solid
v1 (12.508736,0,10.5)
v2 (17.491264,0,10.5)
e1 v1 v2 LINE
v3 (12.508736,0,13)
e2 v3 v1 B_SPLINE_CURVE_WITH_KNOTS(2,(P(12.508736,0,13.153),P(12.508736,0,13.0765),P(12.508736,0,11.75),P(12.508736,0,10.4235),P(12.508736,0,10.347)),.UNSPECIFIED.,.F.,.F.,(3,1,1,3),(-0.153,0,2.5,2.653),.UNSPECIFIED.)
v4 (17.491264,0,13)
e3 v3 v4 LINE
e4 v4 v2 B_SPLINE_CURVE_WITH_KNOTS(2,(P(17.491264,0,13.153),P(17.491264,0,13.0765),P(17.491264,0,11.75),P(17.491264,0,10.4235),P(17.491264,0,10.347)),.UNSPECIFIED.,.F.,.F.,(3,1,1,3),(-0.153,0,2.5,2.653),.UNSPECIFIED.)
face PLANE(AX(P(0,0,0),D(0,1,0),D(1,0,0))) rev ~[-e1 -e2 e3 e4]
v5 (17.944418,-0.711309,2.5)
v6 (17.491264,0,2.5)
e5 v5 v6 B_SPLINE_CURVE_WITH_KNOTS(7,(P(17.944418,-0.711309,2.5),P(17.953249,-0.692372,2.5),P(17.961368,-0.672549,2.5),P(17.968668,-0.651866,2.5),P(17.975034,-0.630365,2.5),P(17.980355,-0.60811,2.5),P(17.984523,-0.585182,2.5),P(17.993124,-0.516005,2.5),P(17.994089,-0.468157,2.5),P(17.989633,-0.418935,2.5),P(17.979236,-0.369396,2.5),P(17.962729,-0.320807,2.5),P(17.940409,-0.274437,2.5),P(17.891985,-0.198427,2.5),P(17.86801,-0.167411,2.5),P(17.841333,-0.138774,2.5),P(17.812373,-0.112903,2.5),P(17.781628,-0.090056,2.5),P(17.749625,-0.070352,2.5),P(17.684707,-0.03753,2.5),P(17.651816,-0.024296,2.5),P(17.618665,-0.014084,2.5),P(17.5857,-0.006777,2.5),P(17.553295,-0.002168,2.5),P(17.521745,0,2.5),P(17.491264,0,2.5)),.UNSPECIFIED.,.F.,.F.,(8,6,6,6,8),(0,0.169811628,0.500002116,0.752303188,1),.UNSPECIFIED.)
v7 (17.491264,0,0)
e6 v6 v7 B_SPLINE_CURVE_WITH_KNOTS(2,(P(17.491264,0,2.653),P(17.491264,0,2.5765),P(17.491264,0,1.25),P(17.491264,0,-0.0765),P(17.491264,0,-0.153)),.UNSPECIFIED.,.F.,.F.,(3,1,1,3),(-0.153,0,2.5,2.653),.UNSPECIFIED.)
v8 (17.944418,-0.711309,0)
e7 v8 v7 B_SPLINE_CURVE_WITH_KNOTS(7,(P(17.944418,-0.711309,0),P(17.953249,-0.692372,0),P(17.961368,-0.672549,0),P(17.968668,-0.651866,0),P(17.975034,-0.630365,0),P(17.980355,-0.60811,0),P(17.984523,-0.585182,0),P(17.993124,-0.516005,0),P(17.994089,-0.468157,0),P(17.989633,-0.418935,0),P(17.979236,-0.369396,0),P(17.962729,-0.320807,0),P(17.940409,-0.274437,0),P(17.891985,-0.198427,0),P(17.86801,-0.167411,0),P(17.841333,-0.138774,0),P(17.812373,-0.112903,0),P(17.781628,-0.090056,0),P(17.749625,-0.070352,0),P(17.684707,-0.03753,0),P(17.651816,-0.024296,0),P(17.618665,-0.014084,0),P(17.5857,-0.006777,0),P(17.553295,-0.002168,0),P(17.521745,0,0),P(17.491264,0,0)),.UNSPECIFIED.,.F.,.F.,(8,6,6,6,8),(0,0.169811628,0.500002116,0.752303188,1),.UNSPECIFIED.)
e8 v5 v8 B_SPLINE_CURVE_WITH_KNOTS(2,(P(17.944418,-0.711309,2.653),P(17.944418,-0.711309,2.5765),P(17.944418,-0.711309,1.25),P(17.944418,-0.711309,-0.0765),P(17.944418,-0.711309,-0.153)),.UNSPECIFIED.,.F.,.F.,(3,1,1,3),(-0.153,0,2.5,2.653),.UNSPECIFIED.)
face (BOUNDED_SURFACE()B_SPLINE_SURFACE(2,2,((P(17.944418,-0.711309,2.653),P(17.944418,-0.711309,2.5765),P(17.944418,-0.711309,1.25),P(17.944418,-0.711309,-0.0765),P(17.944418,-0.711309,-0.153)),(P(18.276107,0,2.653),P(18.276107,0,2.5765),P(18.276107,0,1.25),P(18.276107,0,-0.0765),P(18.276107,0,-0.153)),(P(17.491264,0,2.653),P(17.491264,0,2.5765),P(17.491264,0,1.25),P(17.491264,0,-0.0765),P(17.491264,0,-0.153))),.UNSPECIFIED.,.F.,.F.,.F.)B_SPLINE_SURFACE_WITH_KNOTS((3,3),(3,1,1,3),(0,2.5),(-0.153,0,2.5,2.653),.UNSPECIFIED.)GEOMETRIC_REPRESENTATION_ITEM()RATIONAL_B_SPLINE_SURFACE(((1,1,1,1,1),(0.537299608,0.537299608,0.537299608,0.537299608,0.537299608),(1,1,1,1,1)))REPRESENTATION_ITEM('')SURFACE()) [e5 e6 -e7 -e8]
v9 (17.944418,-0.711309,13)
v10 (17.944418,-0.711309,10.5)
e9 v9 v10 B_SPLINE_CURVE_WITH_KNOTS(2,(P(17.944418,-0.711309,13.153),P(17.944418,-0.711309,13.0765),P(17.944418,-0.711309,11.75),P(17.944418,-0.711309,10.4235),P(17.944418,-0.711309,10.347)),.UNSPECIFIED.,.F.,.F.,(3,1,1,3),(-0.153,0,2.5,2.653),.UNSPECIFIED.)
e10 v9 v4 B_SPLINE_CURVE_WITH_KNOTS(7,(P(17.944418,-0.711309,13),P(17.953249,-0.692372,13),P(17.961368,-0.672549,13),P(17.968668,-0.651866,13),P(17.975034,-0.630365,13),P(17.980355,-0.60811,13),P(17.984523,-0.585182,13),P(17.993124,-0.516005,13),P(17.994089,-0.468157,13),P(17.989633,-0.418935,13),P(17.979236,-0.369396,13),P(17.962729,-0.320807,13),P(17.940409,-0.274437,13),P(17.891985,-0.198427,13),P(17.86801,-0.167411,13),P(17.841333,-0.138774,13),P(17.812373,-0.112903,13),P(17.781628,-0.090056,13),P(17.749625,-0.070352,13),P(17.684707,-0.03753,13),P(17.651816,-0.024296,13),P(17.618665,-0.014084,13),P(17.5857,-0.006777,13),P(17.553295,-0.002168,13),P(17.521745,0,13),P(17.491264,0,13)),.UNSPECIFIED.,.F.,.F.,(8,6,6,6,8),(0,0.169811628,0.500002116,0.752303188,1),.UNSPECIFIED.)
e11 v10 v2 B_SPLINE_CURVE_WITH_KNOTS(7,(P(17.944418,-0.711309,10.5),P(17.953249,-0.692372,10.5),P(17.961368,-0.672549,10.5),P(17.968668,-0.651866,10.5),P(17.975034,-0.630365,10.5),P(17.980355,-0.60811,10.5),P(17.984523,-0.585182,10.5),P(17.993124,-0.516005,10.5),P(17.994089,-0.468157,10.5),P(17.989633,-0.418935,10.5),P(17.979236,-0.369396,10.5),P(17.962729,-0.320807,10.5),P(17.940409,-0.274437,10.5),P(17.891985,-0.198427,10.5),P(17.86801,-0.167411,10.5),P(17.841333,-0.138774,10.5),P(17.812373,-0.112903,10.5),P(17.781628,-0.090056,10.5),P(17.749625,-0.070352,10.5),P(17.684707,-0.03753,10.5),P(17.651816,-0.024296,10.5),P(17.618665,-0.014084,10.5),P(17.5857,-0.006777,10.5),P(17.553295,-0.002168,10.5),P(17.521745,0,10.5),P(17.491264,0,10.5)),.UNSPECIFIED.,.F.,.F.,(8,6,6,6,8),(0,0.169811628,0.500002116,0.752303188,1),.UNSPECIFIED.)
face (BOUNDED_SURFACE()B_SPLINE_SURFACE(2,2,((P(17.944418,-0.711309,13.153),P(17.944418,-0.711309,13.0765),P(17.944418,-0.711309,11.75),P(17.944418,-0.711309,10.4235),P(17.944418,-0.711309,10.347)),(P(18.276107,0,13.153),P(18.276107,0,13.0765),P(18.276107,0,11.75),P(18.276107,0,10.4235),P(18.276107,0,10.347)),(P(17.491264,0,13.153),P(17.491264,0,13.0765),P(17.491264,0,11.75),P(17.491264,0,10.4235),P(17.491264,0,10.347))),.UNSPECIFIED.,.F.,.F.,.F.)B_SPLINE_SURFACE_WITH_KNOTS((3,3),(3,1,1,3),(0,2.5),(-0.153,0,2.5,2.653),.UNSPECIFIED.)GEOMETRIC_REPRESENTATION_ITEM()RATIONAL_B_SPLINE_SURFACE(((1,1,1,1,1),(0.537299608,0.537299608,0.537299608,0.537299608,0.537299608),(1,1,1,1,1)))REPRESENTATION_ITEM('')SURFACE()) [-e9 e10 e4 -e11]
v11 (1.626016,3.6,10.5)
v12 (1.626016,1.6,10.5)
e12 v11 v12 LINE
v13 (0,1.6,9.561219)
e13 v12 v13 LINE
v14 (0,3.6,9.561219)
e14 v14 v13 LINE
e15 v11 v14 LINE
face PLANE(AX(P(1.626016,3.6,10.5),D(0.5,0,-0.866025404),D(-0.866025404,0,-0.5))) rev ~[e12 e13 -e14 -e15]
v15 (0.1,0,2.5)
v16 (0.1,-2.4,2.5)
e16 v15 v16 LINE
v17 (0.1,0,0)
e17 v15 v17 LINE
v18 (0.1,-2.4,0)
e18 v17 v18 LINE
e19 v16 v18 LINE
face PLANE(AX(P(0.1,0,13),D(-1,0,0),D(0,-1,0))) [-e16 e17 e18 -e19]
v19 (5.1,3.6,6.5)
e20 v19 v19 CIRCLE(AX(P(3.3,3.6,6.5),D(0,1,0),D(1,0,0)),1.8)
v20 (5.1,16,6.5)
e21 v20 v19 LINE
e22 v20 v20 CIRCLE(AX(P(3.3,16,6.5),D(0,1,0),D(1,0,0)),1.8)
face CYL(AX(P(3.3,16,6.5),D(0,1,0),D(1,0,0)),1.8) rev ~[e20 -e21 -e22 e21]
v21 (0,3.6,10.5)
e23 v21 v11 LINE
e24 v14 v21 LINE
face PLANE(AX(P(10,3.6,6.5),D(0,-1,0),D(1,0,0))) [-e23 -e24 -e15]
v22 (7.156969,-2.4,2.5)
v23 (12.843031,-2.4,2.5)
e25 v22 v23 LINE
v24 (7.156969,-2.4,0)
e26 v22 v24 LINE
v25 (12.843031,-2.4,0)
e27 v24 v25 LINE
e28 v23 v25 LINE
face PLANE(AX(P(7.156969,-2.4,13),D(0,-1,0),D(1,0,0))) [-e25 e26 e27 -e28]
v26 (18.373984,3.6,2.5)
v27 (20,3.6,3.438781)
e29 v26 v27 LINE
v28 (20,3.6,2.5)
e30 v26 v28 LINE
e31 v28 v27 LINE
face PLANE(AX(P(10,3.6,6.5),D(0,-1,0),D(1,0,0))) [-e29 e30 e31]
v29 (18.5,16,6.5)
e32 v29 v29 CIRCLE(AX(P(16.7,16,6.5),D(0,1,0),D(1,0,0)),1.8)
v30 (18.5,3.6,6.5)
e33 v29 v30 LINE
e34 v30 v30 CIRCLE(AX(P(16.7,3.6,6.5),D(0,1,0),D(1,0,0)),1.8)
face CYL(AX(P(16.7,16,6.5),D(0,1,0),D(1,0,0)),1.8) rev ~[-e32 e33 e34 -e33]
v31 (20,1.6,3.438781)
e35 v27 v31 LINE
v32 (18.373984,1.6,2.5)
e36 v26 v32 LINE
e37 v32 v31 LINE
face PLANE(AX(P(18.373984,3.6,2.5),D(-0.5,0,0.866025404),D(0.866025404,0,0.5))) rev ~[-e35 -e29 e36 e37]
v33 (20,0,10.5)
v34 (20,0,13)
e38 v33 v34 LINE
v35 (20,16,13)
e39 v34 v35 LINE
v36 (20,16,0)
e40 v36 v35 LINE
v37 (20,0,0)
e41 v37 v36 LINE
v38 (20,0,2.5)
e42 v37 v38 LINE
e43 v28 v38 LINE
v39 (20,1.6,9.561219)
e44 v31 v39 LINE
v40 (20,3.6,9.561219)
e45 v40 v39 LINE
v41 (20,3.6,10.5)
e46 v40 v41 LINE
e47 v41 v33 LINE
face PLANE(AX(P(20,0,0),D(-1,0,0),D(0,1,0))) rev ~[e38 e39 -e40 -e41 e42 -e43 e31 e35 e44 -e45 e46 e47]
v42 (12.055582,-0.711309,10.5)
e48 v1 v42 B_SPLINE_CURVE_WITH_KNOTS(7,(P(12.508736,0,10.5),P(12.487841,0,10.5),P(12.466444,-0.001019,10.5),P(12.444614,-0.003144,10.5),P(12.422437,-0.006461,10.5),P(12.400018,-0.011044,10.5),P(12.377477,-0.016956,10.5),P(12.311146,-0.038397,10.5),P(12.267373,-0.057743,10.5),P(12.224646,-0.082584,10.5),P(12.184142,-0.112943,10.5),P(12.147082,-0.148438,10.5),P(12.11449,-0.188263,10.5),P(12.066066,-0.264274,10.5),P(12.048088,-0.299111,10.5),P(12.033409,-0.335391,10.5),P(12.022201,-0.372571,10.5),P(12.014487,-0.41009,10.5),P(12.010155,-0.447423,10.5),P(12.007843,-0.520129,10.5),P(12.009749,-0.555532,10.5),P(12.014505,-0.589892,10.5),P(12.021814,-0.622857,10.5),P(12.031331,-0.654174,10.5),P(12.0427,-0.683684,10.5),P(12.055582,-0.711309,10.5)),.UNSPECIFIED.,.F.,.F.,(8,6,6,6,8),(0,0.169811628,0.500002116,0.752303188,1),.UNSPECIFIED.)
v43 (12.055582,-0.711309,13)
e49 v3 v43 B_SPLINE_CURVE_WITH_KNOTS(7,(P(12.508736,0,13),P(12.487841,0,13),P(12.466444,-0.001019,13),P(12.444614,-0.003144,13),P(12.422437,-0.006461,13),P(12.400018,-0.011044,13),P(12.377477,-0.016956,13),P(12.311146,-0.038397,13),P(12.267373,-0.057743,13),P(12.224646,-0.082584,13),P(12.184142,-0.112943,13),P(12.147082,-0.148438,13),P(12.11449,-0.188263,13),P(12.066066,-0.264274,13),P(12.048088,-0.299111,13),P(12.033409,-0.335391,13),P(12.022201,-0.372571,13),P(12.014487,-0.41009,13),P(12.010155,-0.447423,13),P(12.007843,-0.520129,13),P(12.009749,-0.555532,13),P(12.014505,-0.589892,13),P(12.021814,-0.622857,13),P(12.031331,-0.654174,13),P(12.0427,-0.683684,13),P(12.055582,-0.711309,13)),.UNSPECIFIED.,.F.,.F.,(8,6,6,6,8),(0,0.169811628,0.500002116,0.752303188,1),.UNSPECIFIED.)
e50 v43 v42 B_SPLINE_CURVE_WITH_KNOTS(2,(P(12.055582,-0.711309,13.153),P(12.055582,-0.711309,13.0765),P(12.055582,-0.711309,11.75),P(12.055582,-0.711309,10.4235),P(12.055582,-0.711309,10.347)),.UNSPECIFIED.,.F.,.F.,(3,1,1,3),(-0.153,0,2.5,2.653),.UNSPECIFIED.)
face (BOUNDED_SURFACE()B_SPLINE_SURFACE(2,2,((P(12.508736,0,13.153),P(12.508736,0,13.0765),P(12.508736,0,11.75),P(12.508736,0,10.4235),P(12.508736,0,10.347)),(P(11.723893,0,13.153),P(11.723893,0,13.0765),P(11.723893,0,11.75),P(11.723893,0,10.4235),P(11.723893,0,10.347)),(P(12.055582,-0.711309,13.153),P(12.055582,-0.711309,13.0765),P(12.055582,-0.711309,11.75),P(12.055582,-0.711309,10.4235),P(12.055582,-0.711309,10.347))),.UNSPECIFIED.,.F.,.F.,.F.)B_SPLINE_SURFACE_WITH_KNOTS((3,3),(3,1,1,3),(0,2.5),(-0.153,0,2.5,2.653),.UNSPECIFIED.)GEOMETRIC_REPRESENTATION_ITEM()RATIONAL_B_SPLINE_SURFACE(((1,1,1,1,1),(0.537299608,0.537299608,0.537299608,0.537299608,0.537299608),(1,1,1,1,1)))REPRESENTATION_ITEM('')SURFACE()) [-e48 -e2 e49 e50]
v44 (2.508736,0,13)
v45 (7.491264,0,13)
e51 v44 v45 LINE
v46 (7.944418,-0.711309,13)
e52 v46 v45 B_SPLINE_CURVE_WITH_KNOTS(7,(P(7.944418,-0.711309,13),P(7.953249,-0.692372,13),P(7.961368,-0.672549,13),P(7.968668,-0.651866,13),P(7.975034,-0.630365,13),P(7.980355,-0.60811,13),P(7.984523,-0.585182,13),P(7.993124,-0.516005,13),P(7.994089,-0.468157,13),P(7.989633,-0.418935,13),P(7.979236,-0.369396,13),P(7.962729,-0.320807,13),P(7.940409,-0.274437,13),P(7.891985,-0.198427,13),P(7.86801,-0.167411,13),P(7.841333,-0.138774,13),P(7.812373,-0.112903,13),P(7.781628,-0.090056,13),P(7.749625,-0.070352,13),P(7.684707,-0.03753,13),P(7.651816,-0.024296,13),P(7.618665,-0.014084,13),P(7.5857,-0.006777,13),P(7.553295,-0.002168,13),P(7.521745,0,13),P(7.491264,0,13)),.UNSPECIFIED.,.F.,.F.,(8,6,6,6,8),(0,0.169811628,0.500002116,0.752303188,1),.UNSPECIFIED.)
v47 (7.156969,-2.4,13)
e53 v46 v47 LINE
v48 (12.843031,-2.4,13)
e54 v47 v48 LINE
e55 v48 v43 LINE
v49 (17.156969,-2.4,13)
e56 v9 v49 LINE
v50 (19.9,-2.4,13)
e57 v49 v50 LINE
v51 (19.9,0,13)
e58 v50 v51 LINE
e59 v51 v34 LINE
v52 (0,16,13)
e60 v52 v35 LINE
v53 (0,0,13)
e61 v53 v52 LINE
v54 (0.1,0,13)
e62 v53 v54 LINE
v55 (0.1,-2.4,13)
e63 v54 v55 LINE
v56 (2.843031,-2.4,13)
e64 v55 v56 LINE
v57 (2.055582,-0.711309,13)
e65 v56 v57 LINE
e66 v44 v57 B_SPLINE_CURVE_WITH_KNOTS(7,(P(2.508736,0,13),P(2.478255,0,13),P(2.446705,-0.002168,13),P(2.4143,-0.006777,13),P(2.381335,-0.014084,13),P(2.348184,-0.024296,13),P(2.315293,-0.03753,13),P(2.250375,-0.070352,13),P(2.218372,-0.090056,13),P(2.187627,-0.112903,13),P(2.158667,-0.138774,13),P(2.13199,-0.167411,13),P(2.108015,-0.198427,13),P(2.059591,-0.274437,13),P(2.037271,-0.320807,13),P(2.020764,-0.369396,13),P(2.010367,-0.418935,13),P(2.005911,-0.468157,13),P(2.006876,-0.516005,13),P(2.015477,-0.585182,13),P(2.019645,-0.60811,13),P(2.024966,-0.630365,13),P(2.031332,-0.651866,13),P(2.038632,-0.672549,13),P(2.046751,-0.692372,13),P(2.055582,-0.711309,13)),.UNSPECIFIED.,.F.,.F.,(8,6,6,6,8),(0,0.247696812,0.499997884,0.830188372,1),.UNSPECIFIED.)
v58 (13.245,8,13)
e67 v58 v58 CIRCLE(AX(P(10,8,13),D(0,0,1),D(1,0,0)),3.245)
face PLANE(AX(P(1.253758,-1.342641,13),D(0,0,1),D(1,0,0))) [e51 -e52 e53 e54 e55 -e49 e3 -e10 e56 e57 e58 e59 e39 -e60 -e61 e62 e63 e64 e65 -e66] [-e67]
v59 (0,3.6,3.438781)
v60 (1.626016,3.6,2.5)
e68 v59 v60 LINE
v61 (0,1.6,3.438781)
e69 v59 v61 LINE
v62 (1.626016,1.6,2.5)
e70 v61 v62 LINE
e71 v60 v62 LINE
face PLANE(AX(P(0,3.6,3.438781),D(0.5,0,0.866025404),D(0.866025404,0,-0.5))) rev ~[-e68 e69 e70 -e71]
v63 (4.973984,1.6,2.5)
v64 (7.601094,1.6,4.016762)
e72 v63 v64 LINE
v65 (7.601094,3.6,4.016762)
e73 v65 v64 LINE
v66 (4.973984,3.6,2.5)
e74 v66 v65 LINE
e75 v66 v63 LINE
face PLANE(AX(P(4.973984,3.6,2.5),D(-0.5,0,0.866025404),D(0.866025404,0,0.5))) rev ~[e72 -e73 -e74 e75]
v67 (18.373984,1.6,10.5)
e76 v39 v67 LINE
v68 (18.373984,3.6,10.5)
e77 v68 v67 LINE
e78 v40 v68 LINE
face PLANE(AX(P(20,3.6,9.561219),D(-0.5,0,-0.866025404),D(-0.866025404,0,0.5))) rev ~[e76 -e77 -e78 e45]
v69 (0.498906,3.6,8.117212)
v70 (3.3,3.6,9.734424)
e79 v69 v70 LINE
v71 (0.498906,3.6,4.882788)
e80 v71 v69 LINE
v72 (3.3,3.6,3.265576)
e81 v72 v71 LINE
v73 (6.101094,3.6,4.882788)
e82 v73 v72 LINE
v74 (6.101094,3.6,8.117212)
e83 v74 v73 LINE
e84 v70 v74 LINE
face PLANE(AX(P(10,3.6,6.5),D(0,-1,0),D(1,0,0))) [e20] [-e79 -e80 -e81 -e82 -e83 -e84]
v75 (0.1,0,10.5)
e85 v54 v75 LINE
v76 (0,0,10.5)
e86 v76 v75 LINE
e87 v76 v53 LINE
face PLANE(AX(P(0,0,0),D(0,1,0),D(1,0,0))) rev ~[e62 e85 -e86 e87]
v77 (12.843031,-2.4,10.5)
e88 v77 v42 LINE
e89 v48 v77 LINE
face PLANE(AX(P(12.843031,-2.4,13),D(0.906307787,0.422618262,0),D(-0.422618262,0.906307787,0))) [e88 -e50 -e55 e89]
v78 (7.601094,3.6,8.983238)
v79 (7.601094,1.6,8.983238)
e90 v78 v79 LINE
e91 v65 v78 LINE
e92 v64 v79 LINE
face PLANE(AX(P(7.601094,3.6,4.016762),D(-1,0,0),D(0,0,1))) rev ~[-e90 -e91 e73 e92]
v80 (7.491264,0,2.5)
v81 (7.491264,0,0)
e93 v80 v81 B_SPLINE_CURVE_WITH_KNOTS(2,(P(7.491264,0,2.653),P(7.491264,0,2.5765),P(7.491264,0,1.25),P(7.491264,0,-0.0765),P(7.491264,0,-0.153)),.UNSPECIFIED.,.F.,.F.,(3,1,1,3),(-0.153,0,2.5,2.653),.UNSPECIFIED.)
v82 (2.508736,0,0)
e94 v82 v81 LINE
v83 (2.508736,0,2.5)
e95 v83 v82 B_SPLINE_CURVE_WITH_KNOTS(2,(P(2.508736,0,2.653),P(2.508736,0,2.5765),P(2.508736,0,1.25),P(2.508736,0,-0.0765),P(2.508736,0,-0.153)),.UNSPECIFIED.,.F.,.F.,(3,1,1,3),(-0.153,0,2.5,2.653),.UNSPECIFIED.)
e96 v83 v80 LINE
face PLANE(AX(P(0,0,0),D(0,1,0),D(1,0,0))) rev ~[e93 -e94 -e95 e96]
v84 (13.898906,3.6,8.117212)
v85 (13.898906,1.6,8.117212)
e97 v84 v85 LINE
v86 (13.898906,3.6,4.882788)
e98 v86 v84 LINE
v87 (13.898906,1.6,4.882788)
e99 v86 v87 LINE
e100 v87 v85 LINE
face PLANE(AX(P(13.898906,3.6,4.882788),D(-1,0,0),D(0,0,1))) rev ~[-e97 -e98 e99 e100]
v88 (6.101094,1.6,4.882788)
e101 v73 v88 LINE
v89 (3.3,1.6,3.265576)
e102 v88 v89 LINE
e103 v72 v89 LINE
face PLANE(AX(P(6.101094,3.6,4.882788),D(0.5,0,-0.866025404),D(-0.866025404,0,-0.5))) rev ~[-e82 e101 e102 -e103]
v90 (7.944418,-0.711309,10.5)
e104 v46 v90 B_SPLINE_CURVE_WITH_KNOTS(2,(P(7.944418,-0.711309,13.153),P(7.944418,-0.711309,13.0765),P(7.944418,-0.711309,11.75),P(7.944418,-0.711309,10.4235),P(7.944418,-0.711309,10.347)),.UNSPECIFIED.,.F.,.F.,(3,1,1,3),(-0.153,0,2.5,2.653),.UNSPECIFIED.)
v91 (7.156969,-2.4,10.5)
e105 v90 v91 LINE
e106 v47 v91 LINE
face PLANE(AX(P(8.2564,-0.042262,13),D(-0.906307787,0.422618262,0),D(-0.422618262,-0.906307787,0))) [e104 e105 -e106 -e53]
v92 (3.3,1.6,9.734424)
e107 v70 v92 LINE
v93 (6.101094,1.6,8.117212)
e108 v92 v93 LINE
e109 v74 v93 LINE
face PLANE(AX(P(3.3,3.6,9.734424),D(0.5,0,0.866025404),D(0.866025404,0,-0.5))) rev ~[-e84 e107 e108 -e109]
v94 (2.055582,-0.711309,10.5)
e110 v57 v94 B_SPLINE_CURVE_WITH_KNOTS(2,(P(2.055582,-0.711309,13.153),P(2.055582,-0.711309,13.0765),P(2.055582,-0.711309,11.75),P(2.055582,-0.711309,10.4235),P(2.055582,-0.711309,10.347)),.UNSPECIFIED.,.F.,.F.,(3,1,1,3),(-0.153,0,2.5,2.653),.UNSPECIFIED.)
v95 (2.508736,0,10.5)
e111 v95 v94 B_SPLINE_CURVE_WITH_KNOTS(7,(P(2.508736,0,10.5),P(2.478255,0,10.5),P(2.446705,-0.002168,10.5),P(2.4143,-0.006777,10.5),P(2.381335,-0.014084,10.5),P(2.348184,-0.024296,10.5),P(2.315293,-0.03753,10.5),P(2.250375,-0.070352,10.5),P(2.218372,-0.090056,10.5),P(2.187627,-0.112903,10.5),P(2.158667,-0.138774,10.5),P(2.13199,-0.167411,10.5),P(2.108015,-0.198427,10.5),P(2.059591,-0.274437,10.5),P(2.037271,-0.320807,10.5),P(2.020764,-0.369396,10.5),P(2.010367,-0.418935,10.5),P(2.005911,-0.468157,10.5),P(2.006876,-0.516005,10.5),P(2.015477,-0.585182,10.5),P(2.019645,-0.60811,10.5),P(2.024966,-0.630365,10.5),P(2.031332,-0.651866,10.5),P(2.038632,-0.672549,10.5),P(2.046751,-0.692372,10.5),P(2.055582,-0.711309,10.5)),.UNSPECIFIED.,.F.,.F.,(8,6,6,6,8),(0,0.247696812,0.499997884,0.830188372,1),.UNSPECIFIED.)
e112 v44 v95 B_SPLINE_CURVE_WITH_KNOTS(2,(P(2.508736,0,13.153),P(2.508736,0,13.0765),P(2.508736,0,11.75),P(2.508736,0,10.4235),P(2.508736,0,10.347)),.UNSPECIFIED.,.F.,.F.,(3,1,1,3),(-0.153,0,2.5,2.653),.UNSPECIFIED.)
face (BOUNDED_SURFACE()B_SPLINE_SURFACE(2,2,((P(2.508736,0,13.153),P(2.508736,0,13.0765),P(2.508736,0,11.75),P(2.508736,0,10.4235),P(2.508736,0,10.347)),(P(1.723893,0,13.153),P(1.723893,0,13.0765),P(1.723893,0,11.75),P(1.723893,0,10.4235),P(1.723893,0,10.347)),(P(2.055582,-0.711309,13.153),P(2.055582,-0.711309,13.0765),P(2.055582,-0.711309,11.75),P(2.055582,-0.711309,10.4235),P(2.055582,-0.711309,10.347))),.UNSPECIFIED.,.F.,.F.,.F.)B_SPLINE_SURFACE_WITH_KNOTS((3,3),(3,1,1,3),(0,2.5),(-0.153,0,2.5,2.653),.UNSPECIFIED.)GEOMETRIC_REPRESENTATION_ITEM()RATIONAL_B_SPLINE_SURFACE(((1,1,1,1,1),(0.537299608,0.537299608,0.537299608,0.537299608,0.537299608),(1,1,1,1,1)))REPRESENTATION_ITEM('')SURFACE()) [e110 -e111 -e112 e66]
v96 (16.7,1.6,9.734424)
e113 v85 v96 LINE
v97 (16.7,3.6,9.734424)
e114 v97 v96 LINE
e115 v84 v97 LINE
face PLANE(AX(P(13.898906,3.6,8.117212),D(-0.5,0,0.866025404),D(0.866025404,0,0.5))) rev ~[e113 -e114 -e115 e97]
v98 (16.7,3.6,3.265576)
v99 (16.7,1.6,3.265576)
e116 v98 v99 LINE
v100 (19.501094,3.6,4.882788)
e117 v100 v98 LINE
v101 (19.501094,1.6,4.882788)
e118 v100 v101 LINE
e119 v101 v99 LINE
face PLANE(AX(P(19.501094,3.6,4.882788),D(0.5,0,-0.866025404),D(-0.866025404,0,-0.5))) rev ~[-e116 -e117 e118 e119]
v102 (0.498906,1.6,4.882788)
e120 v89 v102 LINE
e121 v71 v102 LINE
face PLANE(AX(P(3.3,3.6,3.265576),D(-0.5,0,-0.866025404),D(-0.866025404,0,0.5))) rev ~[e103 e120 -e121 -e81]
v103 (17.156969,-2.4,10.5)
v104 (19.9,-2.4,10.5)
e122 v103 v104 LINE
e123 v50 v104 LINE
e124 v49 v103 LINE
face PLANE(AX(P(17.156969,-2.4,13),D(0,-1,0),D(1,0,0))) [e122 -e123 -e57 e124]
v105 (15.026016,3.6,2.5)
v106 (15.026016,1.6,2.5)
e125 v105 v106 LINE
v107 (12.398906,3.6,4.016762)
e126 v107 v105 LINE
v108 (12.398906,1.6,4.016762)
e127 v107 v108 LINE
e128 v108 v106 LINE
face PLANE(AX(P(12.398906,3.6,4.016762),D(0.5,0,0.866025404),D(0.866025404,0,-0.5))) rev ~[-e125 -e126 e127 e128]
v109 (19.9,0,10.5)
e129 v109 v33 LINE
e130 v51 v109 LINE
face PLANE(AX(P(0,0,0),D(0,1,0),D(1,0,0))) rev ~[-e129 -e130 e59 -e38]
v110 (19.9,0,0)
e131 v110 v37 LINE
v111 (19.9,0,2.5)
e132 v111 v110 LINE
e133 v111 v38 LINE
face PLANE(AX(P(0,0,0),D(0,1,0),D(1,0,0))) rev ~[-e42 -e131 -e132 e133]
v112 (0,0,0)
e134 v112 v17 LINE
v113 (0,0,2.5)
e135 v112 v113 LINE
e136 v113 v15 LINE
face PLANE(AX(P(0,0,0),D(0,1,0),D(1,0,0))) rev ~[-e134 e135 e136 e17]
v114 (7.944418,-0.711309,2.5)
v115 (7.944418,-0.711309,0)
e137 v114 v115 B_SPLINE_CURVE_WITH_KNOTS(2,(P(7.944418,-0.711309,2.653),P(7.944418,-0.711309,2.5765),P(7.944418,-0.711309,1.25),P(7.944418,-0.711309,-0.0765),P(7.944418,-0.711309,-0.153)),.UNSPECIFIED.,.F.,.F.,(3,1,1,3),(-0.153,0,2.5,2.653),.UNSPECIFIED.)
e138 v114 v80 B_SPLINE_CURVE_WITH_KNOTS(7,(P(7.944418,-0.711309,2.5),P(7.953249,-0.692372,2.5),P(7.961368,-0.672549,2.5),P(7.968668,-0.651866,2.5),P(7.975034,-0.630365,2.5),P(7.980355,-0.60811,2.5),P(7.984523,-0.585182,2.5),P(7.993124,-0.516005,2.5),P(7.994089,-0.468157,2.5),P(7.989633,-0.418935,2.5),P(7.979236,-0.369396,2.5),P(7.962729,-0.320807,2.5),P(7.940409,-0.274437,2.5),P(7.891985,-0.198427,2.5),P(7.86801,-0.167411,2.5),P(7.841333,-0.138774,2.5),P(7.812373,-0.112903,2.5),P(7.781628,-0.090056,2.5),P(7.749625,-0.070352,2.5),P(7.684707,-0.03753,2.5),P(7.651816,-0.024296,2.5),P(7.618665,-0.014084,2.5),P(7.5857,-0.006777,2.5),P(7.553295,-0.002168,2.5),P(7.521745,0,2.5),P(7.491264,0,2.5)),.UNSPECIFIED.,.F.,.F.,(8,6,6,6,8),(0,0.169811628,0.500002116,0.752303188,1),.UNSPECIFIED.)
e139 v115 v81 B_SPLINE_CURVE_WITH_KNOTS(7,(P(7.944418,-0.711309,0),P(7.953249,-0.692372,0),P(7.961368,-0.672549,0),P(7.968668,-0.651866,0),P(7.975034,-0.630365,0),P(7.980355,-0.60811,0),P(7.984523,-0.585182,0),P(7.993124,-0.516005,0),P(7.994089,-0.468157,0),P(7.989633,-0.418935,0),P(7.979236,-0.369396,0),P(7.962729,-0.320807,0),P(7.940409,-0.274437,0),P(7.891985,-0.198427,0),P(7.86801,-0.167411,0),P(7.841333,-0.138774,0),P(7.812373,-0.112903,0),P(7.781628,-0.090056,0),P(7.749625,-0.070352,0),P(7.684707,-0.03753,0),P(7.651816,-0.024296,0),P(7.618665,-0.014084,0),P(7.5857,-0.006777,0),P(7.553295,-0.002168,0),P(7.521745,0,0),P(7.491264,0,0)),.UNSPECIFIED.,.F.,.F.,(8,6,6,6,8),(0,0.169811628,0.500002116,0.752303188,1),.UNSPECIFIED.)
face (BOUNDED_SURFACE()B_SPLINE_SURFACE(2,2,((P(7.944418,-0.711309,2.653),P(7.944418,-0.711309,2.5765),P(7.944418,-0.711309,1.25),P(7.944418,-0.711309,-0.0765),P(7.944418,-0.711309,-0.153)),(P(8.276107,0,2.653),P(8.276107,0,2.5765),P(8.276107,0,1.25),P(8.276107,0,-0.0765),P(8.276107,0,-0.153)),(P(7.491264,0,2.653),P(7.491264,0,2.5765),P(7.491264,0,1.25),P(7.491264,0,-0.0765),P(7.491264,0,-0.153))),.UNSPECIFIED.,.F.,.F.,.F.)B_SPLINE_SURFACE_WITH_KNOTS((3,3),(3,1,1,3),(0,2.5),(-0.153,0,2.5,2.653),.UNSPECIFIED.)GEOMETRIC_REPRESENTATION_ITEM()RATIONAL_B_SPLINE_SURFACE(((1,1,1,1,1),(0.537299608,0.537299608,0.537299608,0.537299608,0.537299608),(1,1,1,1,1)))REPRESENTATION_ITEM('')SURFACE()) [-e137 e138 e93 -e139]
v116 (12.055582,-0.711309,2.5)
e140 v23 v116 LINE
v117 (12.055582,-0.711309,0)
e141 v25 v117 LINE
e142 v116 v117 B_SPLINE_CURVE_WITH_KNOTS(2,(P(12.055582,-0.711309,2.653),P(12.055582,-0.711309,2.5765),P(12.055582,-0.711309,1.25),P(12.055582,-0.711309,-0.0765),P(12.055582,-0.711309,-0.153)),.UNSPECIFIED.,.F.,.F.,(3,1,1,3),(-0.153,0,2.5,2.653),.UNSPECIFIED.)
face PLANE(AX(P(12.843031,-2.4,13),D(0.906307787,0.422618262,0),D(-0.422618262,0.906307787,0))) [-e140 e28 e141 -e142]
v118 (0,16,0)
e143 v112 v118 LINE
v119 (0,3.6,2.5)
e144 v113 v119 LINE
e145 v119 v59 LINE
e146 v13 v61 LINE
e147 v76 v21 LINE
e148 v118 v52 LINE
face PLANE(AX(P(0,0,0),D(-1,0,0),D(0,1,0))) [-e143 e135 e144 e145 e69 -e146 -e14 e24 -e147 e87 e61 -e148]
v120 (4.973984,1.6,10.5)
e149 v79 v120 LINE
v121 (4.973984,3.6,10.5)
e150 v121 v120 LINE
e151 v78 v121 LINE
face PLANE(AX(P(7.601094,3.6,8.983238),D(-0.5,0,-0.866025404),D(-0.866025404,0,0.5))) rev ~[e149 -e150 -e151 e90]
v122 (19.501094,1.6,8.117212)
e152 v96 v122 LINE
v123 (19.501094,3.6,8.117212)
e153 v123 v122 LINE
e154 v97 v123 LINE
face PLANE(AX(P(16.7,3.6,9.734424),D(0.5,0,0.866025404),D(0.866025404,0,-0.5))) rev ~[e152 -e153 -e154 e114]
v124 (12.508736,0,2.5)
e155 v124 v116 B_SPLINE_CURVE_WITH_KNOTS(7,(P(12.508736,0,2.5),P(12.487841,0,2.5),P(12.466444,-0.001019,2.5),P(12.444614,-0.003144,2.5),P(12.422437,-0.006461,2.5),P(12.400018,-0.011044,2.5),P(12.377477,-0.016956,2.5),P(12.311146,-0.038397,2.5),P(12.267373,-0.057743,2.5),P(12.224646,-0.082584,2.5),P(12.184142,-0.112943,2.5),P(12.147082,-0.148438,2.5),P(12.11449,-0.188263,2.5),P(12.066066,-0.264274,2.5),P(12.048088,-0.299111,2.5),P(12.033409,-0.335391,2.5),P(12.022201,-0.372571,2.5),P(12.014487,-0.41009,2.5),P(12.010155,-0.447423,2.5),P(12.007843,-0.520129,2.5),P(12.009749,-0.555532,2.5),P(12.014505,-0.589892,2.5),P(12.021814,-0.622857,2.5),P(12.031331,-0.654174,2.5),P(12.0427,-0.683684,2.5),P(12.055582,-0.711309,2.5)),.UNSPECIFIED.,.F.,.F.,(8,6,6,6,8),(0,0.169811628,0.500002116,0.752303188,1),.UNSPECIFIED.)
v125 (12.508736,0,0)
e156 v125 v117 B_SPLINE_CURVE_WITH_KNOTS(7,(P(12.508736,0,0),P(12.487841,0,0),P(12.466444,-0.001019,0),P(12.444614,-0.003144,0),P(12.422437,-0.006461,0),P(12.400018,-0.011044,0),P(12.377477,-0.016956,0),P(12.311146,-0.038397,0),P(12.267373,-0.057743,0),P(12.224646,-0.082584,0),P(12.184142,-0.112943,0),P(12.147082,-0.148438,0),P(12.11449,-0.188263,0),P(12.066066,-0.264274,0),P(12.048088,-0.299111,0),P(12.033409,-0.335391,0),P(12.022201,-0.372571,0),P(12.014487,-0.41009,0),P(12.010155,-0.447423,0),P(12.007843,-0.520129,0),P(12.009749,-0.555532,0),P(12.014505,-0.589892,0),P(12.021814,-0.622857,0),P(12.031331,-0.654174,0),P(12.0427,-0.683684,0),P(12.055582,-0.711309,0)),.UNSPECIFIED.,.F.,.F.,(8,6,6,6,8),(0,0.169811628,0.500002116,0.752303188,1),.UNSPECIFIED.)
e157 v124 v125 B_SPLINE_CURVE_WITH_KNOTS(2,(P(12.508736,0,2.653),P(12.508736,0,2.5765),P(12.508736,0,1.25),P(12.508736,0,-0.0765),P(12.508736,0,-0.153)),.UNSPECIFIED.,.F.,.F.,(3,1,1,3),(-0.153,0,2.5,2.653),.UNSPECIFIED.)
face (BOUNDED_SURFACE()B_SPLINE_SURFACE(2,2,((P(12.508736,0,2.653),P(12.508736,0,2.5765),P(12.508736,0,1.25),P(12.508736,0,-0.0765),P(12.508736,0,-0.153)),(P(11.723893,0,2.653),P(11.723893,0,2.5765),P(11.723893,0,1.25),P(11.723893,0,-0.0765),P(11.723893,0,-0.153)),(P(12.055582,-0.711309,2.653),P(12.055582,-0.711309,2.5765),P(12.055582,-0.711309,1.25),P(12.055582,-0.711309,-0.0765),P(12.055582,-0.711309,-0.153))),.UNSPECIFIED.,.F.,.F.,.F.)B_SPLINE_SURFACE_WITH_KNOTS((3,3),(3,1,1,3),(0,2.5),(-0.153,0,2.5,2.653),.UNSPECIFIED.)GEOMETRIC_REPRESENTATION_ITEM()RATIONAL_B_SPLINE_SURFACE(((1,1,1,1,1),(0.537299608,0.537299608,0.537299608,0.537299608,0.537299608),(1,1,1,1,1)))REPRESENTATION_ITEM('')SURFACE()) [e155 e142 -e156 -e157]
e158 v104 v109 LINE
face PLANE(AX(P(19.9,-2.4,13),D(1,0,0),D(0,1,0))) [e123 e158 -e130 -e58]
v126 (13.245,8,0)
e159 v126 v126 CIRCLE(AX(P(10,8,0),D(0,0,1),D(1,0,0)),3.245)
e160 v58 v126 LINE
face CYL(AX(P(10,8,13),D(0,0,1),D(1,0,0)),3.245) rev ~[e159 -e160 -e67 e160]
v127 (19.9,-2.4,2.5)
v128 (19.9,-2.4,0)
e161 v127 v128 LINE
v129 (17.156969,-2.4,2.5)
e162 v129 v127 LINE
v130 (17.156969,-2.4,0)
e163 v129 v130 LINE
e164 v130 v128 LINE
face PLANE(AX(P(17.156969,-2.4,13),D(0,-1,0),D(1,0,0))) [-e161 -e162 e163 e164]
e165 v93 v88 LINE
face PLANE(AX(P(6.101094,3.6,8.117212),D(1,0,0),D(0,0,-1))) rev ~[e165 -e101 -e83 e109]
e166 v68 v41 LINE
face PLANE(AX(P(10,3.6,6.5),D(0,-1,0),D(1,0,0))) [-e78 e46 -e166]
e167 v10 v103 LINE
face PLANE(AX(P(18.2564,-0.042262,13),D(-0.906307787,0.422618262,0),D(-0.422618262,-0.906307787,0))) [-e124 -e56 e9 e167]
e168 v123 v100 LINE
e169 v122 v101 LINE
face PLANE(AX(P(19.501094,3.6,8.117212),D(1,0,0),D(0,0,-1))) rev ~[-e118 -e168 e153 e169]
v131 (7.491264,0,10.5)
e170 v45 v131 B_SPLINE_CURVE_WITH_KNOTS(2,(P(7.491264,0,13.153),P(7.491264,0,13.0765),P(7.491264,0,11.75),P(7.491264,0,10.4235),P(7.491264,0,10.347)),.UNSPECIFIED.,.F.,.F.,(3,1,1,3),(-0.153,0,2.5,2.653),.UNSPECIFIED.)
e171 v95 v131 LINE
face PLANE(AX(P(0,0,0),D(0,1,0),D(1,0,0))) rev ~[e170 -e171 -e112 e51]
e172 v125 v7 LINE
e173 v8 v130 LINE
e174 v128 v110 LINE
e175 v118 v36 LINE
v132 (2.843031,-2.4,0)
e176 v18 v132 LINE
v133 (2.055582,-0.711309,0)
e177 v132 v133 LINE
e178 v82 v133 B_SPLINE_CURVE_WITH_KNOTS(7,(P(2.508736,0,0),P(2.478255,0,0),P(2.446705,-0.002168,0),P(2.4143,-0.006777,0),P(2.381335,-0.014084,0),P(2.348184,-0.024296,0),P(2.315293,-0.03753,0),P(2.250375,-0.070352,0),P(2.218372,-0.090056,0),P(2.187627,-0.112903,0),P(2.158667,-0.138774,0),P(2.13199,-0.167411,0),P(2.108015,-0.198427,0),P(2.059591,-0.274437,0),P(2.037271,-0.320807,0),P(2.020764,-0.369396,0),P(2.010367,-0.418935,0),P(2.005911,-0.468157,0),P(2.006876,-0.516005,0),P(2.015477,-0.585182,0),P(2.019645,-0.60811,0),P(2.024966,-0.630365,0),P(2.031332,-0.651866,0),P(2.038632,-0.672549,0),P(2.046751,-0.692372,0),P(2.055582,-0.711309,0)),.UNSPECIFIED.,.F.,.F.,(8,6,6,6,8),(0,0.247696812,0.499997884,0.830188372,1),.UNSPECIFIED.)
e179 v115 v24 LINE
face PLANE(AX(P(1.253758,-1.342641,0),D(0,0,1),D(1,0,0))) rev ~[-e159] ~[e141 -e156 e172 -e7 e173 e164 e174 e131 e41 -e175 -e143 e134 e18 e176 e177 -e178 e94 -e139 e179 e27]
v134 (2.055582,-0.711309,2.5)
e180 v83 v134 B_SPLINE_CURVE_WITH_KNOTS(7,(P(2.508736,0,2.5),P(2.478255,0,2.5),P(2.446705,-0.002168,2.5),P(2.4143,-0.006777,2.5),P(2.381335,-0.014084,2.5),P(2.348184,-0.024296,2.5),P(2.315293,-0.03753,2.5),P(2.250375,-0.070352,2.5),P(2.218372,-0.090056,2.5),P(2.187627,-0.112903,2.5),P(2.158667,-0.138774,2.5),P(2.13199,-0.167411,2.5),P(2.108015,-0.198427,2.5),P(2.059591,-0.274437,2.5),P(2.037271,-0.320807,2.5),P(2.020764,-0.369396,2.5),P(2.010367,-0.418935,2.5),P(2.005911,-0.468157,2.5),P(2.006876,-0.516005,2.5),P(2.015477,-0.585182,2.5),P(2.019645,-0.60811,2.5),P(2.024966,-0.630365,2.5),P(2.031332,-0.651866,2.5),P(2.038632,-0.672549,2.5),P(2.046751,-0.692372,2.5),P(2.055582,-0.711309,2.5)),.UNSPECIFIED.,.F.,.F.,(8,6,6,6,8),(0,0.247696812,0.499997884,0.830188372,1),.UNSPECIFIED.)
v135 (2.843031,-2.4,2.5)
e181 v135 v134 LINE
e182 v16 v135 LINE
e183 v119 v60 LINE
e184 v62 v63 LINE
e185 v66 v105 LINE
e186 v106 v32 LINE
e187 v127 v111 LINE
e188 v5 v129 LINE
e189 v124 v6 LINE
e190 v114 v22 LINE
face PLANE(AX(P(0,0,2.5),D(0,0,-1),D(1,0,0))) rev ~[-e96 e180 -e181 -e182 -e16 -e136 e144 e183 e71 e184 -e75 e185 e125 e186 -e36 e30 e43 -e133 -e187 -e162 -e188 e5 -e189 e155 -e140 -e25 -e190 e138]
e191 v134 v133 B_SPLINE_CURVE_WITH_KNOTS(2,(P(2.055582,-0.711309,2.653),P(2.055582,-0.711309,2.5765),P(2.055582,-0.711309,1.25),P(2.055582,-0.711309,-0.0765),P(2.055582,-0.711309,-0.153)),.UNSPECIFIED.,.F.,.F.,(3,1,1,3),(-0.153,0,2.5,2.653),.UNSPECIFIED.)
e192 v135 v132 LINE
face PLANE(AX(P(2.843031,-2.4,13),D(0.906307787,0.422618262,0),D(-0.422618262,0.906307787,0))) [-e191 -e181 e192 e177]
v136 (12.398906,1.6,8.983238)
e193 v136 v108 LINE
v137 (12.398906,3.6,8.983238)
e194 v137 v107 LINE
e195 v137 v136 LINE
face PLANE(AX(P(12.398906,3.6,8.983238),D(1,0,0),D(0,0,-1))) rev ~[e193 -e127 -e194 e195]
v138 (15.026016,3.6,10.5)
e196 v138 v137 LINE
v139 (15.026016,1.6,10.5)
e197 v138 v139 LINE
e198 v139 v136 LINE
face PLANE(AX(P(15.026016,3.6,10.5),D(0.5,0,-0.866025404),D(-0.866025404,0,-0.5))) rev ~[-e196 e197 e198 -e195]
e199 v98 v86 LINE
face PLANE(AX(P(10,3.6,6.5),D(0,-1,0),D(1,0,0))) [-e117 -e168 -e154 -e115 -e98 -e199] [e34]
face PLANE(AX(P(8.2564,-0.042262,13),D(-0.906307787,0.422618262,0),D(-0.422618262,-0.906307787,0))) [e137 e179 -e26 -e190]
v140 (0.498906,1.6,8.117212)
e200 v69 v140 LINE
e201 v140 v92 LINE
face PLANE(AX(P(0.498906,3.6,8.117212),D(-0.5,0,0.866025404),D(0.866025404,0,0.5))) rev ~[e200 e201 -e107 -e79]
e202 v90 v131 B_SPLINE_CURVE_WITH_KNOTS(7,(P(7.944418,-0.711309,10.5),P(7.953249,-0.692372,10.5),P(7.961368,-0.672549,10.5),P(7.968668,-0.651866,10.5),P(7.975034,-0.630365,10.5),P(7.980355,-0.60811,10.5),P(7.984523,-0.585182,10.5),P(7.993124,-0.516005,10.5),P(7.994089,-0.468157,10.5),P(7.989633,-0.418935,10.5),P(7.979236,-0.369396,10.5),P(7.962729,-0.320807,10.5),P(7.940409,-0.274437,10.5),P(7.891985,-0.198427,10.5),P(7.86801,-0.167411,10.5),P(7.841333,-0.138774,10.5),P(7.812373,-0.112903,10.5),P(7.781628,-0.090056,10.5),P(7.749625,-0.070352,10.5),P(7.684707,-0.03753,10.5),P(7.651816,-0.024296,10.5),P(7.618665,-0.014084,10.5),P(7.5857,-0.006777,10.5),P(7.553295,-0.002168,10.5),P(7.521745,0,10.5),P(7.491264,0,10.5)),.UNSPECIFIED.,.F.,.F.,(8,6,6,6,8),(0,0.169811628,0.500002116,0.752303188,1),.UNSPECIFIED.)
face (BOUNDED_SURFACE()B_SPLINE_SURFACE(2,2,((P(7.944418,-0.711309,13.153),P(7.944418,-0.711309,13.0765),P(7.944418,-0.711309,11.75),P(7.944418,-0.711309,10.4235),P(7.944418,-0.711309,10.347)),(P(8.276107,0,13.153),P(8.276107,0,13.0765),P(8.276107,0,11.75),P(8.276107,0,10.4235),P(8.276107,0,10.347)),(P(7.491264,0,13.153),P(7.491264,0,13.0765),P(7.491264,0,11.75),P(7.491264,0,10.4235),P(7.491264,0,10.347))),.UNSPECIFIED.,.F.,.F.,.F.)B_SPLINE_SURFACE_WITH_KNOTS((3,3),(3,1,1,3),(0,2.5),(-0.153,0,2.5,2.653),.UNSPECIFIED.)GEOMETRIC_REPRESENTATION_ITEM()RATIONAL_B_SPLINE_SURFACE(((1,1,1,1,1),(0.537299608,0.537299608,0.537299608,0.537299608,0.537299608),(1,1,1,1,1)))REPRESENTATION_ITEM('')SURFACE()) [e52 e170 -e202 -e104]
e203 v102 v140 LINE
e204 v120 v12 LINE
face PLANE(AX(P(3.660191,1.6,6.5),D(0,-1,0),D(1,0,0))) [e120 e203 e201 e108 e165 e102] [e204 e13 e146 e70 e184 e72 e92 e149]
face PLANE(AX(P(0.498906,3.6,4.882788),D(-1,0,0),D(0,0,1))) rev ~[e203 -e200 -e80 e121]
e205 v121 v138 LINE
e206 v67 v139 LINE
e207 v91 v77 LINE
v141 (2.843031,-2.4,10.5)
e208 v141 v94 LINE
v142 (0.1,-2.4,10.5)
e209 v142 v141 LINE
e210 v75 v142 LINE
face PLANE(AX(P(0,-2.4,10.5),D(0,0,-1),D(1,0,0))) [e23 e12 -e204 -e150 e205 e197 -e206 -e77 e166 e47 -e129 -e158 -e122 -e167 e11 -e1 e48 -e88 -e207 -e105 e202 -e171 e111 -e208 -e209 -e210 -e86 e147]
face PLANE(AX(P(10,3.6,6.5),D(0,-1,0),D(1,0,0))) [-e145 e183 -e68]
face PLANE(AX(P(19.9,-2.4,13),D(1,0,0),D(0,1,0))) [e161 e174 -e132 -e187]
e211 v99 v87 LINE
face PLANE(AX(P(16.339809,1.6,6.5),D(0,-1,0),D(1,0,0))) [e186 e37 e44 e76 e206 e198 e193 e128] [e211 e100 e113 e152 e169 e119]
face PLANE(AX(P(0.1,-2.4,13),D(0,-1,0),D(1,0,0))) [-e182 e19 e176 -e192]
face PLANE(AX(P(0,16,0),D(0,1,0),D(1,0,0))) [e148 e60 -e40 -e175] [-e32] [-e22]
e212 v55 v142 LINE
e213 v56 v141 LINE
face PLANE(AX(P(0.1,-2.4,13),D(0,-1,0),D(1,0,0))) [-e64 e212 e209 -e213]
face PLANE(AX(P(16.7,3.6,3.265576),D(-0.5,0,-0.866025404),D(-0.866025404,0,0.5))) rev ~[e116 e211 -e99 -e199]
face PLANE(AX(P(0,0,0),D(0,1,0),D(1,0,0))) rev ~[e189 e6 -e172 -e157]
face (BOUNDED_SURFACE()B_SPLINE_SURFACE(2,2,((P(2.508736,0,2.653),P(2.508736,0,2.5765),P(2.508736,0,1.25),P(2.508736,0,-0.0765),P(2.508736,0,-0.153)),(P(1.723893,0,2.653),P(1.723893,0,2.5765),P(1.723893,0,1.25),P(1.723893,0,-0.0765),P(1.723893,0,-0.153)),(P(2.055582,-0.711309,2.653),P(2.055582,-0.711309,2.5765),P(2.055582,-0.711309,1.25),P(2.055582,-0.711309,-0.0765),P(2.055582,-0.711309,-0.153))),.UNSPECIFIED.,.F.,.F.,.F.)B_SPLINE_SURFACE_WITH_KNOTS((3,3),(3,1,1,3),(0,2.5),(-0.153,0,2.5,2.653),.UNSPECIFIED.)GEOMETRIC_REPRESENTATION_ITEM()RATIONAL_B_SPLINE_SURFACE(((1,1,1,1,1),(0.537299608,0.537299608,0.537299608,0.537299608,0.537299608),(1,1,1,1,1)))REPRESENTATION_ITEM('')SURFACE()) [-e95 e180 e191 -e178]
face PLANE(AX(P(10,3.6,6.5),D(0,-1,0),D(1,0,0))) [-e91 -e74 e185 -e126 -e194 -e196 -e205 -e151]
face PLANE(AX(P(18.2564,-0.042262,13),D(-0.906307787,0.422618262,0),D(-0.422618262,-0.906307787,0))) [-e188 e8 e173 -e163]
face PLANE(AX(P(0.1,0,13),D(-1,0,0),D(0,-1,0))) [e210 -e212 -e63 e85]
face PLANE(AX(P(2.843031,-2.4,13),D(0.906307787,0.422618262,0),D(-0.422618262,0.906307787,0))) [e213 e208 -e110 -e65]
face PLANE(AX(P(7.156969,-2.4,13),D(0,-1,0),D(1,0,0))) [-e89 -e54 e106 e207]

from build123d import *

# Parameters (mm, degrees)
SKETCH1_W           = 20
SKETCH1_H           = 16
BOSS_EXTRUDE1_DEPTH = 13
SKETCH2_W           = 20
SKETCH2_H           = 8
CUT_EXTRUDE1_DEPTH  = 3.6
SKETCH3_R           = 1.8
CUT_EXTRUDE2_DEPTH  = 17
BOSS_EXTRUDE2_DEPTH = 2
BOSS_EXTRUDE3_DEPTH = 13
SKETCH7_W           = 20
SKETCH7_H           = 8
CUT_EXTRUDE3_DEPTH  = 4
FILLET1_R           = 0.5
SKETCH8_R           = 3.245
CUT_EXTRUDE4_DEPTH  = 14.0000001


with BuildPart() as part:
    # Sketch1 → Boss-Extrude1 (new body)
    with BuildSketch(Plane.XY):
        with Locations((10, 8)):
            Rectangle(SKETCH1_W, SKETCH1_H)
    extrude(amount=BOSS_EXTRUDE1_DEPTH)

    # Sketch2 → Cut-Extrude1 (cut)
    with BuildSketch(Plane.XZ):
        with Locations((10, 6.5)):
            Rectangle(SKETCH2_W, SKETCH2_H)
    extrude(amount=-CUT_EXTRUDE1_DEPTH, mode=Mode.SUBTRACT)

    # Sketch3 → Cut-Extrude2 (cut, through all)
    with BuildSketch(Plane(origin=(0, 16, 0), x_dir=(1, 0, 0), z_dir=(0, 1, 0))):
        with Locations((3.3, -6.5)):
            Circle(SKETCH3_R)
        with Locations((16.7, -6.5)):
            Circle(SKETCH3_R)
    extrude(amount=-CUT_EXTRUDE2_DEPTH, mode=Mode.SUBTRACT)

    # Sketch4 → Boss-Extrude2 (add)
    with BuildSketch(Plane.XZ.offset(-3.6)):
        Polygon((7.601093671, 8.983237589), (4.973984112, 10.5), (1.626015888, 10.5), (0, 9.561219289), (0, 3.438780711), (1.626015888, 2.5), (4.973984112, 2.5), (7.601093671, 4.016762411), align=None)
        Polygon((0.498906329, 8.117212185), (3.3, 9.73442437), (6.101093671, 8.117212185), (6.101093671, 4.882787815), (3.3, 3.26557563), (0.498906329, 4.882787815), align=None, mode=Mode.SUBTRACT)
        Polygon((18.373984112, 10.5), (15.026015888, 10.5), (12.398906329, 8.983237589), (12.398906329, 4.016762411), (15.026015888, 2.5), (18.373984112, 2.5), (20, 3.438780711), (20, 9.561219289), align=None)
        Polygon((13.898906329, 8.117212185), (16.7, 9.73442437), (19.501093671, 8.117212185), (19.501093671, 4.882787815), (16.7, 3.26557563), (13.898906329, 4.882787815), align=None, mode=Mode.SUBTRACT)
    extrude(amount=BOSS_EXTRUDE2_DEPTH)

    # Sketch6 → Boss-Extrude3 (add)
    with BuildSketch(Plane.XY.offset(13)):
        Polygon((0.1, 0), (0.1, -2.4), (2.843031442, -2.4), (1.743600076, -0.042261826), (1.723893063, 0), align=None)
        Polygon((12.843031442, -2.4), (11.743600076, -0.042261826), (11.723893063, 0), (8.276106937, 0), (8.256399924, -0.042261826), (7.156968558, -2.4), align=None)
        Polygon((19.9, -2.4), (19.9, 0), (18.276106937, 0), (18.256399924, -0.042261826), (17.156968558, -2.4), align=None)
    extrude(amount=-BOSS_EXTRUDE3_DEPTH)

    # Sketch7 → Cut-Extrude3 (cut)
    with BuildSketch(Plane.XZ.offset(2.4)):
        with Locations((10, 6.5)):
            Rectangle(SKETCH7_W, SKETCH7_H)
    extrude(amount=-CUT_EXTRUDE3_DEPTH, mode=Mode.SUBTRACT)

    # Fillet1
    fillet1_edges = [part.edges().sort_by_distance(p)[0] for p in [
        (1.723893063, 0, 1.25),
        (1.723893063, 0, 11.75),
        (8.276106937, 0, 1.25),
        (11.723893063, 0, 1.25),
        (11.723893063, 0, 11.75),
        (8.276106937, 0, 11.75),
        (18.276106937, 0, 1.25),
        (18.276106937, 0, 11.75),
    ]]
    fillet(fillet1_edges, radius=FILLET1_R)

    # Sketch8 → Cut-Extrude4 (cut, through all)
    with BuildSketch(Plane.XY.offset(13)):
        with Locations((10, 8)):
            Circle(SKETCH8_R)
    extrude(amount=-CUT_EXTRUDE4_DEPTH, mode=Mode.SUBTRACT)


solid = part.part
